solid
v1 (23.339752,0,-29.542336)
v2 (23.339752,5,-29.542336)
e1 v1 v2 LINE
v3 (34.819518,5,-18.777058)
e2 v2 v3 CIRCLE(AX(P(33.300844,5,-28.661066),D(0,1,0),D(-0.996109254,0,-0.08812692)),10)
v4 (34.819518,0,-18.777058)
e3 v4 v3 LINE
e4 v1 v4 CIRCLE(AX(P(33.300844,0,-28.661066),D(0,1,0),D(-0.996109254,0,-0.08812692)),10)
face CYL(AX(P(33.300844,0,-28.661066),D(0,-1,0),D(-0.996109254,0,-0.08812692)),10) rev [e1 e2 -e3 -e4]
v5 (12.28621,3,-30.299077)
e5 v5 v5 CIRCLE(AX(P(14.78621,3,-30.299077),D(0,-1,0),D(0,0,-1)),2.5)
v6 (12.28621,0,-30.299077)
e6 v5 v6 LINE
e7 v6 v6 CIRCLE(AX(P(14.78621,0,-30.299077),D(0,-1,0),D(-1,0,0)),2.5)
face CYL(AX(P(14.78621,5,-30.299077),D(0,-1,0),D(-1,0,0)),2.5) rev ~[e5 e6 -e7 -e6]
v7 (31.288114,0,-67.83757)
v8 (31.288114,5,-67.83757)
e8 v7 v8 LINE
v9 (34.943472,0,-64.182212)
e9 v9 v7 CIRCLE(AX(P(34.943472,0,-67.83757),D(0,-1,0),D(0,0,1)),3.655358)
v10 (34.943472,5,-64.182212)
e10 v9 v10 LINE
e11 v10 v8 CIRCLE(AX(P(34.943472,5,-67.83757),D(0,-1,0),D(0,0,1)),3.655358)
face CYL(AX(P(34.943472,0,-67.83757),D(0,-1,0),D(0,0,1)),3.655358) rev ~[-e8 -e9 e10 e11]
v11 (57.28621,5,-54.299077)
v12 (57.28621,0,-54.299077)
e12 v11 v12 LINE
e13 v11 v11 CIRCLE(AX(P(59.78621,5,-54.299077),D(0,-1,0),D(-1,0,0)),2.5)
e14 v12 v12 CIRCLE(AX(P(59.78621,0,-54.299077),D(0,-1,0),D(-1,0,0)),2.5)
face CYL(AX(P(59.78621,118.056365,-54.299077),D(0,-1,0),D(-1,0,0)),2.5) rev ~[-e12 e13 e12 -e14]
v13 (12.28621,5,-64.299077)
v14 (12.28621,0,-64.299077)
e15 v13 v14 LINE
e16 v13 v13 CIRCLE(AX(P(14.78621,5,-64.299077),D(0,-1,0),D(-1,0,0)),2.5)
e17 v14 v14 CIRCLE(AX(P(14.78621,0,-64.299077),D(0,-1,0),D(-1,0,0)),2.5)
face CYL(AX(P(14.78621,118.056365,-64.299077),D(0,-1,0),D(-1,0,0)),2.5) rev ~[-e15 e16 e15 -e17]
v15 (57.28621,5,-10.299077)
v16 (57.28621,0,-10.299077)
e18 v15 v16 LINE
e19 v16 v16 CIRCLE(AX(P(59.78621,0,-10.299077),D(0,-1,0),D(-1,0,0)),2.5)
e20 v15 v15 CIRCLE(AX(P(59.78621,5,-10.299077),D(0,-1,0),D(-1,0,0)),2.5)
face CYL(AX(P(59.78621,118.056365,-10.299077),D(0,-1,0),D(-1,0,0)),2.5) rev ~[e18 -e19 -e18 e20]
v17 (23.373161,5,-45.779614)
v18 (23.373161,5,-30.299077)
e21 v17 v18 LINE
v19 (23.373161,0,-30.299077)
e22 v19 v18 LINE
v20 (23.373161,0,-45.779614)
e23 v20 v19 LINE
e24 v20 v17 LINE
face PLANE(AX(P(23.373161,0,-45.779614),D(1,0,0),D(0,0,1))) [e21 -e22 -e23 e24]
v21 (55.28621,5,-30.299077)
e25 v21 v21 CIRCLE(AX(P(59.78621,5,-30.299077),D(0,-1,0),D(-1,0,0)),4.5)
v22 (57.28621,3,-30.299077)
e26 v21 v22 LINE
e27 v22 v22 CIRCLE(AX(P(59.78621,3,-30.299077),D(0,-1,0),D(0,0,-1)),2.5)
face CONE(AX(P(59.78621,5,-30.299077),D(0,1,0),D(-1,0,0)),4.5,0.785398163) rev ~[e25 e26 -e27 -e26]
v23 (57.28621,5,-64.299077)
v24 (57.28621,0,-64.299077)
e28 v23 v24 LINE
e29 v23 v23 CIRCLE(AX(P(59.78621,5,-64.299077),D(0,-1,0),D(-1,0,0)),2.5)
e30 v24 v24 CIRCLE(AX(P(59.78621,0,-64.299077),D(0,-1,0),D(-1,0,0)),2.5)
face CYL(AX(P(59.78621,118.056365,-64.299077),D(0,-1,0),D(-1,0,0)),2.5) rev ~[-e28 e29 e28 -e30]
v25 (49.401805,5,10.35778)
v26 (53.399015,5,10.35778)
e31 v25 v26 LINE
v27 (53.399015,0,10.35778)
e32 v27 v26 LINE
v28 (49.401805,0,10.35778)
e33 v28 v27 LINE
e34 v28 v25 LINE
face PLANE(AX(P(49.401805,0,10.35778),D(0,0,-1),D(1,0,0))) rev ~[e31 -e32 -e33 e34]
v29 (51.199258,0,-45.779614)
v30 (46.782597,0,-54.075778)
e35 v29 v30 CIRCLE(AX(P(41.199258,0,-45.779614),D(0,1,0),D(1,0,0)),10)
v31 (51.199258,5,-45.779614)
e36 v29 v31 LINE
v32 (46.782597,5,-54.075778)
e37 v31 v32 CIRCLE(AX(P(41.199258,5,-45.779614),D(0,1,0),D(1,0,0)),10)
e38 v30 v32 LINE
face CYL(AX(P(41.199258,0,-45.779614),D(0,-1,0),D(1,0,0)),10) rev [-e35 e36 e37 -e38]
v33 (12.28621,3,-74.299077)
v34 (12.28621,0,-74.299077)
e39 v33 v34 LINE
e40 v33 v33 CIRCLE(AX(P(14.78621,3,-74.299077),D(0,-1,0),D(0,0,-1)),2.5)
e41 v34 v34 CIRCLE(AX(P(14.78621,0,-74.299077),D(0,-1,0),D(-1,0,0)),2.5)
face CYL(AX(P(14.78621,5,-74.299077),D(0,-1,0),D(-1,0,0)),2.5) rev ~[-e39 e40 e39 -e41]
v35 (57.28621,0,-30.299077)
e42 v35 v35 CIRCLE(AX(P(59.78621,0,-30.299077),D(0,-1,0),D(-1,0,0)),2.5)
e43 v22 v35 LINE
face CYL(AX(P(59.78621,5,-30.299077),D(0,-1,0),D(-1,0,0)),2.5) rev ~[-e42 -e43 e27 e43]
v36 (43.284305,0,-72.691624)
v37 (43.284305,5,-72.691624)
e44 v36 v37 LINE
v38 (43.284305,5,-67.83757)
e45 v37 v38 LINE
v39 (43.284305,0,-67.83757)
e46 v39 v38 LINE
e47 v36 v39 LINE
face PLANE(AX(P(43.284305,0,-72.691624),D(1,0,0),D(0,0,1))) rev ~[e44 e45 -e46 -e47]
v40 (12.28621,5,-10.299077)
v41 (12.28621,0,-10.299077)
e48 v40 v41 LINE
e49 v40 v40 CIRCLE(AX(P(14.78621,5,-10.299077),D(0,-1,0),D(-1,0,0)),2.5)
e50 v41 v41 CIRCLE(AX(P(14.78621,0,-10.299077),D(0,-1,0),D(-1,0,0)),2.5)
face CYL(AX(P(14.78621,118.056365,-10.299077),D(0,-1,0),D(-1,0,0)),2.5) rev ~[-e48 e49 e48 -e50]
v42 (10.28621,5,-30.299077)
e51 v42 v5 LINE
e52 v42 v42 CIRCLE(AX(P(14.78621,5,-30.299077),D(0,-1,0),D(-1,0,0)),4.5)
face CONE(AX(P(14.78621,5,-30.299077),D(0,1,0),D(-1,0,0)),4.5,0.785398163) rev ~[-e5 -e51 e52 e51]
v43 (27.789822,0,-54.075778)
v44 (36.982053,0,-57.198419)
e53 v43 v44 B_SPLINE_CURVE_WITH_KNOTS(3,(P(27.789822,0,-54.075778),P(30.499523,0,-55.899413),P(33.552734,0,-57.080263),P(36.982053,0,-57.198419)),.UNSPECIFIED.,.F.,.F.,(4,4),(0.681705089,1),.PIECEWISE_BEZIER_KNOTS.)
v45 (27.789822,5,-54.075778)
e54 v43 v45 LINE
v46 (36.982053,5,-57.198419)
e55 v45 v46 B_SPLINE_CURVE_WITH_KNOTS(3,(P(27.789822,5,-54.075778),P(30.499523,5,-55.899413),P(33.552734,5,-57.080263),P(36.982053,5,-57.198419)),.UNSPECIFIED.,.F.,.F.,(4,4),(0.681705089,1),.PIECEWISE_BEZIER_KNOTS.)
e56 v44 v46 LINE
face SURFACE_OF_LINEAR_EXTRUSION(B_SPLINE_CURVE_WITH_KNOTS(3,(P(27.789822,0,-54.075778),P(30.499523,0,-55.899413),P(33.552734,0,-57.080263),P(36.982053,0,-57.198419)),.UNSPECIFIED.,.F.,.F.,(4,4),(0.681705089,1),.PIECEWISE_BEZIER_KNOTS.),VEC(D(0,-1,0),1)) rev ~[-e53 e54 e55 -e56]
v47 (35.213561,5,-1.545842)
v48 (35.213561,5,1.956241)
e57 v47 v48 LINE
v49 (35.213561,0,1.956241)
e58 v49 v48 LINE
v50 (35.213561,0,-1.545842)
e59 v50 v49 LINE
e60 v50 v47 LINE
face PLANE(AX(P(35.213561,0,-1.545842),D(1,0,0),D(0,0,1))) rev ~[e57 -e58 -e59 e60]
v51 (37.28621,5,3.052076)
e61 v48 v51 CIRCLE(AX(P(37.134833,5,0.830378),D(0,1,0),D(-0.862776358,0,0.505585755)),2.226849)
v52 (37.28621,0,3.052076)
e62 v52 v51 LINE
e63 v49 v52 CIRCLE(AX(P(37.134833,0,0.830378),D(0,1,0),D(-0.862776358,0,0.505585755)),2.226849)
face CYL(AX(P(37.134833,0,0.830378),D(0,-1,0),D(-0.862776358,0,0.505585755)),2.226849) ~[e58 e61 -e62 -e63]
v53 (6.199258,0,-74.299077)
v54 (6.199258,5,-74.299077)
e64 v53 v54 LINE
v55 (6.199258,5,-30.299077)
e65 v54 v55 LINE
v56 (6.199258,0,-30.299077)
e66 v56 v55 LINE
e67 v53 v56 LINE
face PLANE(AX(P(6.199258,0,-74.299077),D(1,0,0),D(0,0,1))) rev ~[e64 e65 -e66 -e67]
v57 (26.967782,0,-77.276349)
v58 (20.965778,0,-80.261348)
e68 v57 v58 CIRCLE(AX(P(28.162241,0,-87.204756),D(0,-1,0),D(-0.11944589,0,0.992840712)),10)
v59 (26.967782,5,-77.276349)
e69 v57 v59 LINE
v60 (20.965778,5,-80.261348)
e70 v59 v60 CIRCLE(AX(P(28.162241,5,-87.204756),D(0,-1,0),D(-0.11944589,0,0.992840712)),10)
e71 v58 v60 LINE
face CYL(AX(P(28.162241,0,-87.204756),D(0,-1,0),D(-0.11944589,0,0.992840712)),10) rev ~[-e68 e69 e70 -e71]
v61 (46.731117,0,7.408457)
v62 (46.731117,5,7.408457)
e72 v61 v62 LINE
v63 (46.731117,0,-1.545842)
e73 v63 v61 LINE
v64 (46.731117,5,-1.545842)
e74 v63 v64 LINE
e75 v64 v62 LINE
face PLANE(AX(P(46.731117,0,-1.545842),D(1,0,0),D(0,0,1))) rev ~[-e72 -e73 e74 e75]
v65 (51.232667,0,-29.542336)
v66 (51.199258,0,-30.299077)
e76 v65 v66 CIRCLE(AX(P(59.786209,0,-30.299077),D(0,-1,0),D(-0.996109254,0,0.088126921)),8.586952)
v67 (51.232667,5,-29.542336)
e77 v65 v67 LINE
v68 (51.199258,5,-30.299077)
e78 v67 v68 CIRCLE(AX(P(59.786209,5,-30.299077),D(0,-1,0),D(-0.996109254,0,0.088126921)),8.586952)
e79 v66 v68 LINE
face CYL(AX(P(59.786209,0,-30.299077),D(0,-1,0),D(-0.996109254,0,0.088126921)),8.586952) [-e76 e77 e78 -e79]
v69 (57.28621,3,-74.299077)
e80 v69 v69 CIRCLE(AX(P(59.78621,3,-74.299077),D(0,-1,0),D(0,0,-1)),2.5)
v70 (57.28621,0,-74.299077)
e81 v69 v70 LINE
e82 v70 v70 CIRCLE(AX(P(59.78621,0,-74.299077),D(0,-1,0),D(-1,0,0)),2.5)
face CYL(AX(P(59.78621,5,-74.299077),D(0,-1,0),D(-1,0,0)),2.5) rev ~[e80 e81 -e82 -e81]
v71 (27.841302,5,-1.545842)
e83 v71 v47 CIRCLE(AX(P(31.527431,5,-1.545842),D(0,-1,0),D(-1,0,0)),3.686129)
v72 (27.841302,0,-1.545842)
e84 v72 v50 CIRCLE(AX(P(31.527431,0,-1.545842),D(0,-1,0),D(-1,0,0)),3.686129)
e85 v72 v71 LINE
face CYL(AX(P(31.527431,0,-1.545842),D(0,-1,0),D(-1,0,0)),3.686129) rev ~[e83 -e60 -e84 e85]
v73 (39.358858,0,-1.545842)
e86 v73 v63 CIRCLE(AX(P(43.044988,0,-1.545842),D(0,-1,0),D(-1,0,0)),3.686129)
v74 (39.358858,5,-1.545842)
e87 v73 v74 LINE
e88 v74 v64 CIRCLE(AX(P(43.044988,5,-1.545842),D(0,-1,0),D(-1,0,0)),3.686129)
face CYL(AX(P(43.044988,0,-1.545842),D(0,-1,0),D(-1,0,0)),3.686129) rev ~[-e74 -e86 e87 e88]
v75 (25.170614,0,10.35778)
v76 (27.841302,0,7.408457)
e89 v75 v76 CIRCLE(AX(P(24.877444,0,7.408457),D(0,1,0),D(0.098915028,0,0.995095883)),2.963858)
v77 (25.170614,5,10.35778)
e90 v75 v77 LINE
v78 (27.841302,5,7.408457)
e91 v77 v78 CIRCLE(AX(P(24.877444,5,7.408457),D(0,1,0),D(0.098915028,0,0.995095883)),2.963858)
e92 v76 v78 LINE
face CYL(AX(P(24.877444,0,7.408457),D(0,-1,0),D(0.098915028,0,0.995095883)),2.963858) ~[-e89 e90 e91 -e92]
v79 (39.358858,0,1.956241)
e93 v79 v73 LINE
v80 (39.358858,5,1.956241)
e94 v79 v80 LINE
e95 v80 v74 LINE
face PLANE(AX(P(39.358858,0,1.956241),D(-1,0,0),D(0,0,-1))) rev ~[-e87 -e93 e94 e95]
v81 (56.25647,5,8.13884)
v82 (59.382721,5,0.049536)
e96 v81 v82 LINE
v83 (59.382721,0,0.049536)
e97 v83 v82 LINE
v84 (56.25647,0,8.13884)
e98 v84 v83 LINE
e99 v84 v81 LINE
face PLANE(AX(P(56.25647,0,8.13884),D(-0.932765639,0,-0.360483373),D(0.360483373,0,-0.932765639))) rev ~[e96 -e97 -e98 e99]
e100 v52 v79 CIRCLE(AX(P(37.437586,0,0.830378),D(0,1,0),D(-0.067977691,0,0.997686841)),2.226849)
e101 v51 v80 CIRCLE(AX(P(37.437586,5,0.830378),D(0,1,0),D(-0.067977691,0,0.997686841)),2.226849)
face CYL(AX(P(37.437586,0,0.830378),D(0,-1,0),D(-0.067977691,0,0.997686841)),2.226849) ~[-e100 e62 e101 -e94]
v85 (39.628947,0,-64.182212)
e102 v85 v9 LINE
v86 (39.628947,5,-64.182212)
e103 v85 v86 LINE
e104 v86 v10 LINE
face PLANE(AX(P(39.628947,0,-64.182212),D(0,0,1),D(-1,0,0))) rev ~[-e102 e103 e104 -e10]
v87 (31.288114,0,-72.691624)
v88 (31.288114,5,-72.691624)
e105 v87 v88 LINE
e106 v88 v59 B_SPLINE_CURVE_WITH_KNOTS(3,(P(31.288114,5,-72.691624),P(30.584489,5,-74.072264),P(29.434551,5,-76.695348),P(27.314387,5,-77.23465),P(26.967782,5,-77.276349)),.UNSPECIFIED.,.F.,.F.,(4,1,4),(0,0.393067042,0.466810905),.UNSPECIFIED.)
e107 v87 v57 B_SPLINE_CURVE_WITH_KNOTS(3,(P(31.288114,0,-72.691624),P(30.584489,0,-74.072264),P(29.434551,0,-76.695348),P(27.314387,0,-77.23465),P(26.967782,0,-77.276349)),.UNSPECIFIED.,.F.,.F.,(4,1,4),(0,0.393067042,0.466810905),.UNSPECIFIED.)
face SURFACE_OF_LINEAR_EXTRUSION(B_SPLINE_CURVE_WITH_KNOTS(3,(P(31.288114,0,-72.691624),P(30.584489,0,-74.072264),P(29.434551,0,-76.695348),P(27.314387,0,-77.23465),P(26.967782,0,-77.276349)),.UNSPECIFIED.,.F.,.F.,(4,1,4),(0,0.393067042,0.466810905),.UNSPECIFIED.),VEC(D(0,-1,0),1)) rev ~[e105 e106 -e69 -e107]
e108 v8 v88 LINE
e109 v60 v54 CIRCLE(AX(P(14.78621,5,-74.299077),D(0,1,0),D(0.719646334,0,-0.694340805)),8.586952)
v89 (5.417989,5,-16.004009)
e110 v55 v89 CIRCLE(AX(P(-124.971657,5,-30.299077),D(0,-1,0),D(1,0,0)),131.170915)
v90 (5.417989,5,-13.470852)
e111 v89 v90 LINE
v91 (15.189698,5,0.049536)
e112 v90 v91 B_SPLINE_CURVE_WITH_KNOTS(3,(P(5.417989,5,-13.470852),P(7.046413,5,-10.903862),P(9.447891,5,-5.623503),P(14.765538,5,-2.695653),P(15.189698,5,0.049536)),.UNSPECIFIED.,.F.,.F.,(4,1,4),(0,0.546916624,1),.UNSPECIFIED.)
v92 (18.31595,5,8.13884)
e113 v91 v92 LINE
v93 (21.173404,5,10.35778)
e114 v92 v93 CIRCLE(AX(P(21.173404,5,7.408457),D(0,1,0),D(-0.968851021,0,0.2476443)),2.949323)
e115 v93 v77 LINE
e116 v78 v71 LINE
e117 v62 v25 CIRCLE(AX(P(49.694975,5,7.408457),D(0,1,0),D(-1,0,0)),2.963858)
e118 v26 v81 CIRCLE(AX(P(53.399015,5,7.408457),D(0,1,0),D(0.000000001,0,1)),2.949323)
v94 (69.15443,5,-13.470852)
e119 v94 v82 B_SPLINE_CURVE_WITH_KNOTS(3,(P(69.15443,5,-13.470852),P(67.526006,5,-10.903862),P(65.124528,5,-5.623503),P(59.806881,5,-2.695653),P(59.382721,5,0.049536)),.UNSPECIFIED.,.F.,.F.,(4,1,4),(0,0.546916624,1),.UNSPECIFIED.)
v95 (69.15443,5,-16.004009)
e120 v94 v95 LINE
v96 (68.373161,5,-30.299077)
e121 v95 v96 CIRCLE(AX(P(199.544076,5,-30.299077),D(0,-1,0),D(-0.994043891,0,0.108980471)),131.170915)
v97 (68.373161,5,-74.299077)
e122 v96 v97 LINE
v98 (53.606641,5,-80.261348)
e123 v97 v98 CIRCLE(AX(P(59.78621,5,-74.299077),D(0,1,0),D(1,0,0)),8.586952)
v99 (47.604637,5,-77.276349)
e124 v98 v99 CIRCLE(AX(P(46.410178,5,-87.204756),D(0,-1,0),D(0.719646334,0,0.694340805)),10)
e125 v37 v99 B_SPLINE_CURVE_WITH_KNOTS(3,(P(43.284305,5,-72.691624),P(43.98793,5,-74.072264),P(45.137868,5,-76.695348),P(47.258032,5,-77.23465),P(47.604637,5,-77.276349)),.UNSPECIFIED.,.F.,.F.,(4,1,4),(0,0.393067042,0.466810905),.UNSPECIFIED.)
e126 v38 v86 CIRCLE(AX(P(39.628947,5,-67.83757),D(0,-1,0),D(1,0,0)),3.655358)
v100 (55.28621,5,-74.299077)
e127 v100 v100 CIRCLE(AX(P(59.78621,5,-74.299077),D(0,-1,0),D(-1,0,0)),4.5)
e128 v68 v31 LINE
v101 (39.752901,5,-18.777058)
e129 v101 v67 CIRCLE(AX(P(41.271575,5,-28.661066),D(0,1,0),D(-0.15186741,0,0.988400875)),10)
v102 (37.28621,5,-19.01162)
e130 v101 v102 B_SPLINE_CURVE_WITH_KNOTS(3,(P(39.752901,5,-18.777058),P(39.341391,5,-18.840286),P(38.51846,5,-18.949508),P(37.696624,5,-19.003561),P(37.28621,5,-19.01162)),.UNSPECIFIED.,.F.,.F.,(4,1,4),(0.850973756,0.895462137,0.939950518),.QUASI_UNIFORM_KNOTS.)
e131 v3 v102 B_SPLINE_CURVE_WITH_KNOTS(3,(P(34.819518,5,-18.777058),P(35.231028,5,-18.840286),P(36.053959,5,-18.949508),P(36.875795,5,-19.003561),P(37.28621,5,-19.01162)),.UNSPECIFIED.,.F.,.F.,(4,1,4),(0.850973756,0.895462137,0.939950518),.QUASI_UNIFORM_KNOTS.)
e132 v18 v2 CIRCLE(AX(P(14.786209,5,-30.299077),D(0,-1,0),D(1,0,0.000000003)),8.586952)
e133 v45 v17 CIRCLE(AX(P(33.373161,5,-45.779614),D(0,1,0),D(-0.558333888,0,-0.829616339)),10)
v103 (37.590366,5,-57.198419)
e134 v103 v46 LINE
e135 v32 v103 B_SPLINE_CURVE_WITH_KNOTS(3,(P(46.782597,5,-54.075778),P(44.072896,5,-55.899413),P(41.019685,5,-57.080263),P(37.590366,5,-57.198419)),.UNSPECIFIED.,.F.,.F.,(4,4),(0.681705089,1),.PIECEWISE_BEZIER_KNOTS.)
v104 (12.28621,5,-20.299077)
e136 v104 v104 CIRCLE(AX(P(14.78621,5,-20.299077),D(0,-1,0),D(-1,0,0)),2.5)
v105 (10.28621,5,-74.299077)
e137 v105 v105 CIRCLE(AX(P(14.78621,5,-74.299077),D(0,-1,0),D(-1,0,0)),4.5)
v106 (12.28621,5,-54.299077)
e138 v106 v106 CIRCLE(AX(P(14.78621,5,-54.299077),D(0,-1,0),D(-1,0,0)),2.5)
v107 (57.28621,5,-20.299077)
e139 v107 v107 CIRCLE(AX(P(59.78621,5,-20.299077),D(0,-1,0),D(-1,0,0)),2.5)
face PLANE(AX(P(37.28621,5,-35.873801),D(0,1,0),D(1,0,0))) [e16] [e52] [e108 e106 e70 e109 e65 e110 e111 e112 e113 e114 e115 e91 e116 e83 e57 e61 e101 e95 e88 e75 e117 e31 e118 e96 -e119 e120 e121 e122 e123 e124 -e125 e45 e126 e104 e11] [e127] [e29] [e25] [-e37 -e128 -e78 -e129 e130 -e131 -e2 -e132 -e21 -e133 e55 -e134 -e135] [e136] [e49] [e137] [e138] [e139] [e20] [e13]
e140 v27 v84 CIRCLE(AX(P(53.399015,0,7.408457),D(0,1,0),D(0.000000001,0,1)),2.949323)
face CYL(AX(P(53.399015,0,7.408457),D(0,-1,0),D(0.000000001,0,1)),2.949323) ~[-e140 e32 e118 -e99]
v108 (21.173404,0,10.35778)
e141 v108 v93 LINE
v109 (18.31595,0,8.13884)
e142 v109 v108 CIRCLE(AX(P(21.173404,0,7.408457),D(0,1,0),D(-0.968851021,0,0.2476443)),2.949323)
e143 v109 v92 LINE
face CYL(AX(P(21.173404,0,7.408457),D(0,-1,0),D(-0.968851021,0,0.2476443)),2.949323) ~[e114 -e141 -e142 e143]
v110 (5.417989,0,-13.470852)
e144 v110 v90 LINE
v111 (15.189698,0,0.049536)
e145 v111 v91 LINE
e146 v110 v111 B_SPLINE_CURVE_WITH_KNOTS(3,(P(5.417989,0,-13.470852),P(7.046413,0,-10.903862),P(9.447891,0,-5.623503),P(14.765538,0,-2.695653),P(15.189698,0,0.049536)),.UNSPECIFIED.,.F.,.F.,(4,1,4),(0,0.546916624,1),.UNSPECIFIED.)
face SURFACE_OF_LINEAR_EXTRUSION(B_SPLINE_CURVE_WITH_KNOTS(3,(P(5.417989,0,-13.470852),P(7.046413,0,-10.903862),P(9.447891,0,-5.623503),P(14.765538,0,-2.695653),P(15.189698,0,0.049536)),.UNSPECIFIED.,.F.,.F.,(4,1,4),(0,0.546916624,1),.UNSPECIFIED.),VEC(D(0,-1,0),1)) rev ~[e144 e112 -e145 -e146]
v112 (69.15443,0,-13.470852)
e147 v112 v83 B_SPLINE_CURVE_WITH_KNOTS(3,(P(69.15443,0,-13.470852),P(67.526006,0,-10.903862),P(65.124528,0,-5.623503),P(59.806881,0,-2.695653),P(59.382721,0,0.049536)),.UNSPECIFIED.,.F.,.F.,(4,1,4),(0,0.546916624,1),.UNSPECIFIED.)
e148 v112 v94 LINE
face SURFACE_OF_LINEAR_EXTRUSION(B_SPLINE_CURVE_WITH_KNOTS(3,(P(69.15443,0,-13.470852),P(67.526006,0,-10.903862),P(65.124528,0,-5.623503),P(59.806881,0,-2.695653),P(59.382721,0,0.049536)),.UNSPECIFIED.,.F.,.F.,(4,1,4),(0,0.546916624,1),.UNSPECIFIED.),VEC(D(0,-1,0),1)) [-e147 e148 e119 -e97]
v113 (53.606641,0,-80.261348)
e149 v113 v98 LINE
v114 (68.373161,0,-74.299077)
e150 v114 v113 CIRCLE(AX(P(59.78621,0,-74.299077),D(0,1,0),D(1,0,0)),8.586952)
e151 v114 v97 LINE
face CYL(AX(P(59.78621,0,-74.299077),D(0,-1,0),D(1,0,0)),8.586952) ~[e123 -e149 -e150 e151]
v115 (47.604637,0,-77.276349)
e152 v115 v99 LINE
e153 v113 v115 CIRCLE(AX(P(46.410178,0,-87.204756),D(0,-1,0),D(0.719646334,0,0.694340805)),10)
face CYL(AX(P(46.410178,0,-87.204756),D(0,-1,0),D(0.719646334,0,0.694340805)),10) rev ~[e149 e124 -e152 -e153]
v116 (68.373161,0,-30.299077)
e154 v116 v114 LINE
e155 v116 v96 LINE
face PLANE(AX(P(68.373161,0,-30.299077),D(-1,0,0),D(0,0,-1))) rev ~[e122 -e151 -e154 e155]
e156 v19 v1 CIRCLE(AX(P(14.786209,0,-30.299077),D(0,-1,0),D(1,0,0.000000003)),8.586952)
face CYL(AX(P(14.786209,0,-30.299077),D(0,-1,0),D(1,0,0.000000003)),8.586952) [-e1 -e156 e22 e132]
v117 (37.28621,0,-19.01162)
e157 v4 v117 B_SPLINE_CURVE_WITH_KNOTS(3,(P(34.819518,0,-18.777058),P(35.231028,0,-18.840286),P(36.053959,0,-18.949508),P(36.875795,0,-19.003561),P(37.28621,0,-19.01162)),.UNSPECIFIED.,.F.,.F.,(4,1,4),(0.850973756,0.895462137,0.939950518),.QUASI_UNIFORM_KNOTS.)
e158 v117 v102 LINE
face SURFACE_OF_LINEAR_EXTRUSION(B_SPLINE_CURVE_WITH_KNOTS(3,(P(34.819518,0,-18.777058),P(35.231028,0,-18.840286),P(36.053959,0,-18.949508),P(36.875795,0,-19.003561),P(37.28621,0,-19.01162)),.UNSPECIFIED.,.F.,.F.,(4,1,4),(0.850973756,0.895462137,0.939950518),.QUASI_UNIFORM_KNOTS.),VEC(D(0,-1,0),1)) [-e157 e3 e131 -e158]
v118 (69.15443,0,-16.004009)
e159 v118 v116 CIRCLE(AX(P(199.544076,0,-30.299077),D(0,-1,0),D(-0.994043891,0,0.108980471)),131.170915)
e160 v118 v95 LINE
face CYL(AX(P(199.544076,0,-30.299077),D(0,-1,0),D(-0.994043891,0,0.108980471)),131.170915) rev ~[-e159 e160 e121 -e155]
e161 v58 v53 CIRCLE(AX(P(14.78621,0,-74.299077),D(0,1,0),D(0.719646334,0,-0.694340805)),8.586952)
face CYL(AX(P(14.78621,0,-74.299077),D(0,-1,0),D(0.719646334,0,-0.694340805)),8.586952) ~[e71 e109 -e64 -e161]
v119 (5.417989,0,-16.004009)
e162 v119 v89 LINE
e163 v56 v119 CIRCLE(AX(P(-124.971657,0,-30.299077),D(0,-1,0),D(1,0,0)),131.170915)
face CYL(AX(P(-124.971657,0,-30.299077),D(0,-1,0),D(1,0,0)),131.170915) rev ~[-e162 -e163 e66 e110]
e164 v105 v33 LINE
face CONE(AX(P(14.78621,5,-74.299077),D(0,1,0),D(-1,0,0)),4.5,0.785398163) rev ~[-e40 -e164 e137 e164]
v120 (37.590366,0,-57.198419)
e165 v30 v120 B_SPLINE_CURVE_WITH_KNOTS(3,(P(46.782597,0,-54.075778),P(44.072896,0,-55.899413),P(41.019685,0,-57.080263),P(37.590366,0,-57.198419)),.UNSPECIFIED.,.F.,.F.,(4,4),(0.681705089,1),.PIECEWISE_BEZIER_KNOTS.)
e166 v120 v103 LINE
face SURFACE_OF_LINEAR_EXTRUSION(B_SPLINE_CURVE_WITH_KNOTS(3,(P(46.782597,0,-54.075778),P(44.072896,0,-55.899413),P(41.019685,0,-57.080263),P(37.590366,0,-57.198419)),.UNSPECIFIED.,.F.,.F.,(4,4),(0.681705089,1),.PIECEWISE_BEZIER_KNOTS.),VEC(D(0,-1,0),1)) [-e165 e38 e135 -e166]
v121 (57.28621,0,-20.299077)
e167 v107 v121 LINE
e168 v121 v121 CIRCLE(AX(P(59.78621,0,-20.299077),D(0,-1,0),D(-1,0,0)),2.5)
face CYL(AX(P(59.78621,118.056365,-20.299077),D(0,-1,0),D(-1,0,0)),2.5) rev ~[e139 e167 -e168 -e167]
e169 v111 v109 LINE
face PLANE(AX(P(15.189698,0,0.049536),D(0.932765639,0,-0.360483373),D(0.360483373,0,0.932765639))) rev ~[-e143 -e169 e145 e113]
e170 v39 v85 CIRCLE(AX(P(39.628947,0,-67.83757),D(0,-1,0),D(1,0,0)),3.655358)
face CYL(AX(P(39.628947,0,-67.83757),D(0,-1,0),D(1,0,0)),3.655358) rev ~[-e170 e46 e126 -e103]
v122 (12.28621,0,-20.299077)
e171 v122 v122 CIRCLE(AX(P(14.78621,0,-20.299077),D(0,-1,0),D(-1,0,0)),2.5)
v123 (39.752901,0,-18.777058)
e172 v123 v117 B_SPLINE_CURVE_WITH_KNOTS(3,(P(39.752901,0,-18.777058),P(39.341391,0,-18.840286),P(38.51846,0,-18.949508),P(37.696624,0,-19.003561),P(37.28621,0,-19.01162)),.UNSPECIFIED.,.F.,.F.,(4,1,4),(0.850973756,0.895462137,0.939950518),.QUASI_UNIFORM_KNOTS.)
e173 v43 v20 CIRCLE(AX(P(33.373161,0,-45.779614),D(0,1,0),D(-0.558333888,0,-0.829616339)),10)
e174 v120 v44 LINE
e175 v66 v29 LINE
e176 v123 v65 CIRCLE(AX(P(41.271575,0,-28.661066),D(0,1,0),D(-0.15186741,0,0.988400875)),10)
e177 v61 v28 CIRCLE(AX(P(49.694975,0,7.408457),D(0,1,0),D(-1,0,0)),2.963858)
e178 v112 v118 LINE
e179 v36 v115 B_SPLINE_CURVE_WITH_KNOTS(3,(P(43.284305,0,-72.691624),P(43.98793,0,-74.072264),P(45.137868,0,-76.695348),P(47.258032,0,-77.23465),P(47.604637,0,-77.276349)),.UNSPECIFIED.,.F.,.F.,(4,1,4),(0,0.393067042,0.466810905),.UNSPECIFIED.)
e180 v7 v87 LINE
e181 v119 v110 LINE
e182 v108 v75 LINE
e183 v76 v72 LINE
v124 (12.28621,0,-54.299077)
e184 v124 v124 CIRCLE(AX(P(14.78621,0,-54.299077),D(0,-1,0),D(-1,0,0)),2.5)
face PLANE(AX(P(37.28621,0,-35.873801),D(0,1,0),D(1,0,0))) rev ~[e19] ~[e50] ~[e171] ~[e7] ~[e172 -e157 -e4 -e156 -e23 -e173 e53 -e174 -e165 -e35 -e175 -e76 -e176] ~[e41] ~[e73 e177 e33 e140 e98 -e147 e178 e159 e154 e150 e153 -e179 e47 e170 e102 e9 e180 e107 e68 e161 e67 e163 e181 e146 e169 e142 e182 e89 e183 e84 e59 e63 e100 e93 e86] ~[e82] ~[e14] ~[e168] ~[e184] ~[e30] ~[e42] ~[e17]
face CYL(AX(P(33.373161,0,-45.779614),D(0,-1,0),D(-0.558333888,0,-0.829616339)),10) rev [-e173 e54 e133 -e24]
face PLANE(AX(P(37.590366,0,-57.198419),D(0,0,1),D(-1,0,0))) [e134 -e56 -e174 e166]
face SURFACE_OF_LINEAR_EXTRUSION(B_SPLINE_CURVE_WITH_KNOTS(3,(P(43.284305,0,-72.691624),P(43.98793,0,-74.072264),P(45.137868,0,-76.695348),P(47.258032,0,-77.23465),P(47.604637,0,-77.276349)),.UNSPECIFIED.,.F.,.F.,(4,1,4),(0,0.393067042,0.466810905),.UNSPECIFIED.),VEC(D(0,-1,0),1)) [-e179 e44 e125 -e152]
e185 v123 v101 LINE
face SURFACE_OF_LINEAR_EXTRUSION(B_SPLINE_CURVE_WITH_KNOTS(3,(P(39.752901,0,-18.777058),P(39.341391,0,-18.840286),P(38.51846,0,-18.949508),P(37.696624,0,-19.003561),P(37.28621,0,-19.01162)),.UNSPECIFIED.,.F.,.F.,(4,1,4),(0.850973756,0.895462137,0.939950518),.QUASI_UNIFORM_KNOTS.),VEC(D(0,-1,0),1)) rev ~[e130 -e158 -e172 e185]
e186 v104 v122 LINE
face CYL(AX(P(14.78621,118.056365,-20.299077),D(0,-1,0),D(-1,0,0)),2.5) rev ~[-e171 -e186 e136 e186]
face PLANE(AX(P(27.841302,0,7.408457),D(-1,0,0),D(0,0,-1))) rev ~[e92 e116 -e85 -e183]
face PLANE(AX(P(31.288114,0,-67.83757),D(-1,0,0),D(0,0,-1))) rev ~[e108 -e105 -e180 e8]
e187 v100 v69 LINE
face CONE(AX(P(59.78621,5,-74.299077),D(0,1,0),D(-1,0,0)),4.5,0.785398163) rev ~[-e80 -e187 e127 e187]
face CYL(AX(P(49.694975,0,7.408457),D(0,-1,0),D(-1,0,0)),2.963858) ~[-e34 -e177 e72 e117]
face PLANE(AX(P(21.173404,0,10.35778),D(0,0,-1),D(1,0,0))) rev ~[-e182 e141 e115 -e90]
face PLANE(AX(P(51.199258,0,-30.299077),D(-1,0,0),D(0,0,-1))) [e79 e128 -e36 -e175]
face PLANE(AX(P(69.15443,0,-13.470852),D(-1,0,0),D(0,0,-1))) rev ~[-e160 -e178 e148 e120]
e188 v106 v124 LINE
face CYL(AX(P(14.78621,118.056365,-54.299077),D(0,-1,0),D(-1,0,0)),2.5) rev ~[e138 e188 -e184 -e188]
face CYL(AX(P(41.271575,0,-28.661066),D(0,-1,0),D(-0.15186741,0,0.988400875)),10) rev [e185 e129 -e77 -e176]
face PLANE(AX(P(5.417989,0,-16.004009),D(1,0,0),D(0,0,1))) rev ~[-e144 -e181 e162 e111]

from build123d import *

# Parameters (mm, degrees)
BOSS_EXTRUDE1_DEPTH            = 5
M6_CLEARANCE_HOLE1_D           = 5
M6_CLEARANCE_HOLE1_CSINK_D     = 9
M6_CLEARANCE_HOLE1_CSINK_ANGLE = 90
M6X1_0_TAPPED_HOLE1_D          = 5


with BuildPart() as part:
    # Sketch1 → Boss-Extrude1 (new body)
    with BuildSketch(Plane(origin=(0, 0, 0), x_dir=(1, 0, 0), z_dir=(0, 1, 0))):
        with BuildLine():
            Line((69.154429566, 13.47085249), (69.154429566, 16.004009211))
            ThreePointArc((69.154429566, 16.004009211), (68.568623983, 23.140876552), (68.373161278, 30.2990773))
            Line((68.373161278, 30.2990773), (68.373161278, 48.133269951))
            Line((68.373161278, 48.133269951), (68.373161278, 53.582502285))
            Line((68.373161278, 53.582502285), (68.373161278, 74.2990773))
            ThreePointArc((68.373161278, 74.2990773), (63.00118115, 82.261470023), (53.60664117, 80.261348294))
            ThreePointArc((53.60664117, 80.261348294), (50.863204763, 78.250955414), (47.60463673, 77.276349225))
            add(Edge.make_bspline(
                [(43.284305461, 72.691623988), (43.987930263, 74.072264243), (45.137867804, 76.695348328), (47.258032118, 77.234650193), (47.60463673, 77.276349225)],
                knots=[0, 0, 0, 0, 0.393067042, 0.466810905, 0.466810905, 0.466810905, 0.466810905], degree=3))
            Line((43.284305461, 72.691623988), (43.284305461, 67.837570304))
            ThreePointArc((43.284305461, 67.837570304), (42.213675848, 65.252841772), (39.628947316, 64.182212159))
            Line((39.628947316, 64.182212159), (34.94347173, 64.182212159))
            ThreePointArc((34.94347173, 64.182212159), (32.358743198, 65.252841772), (31.288113585, 67.837570304))
            Line((31.288113585, 67.837570304), (31.288113585, 72.691623988))
            add(Edge.make_bspline(
                [(31.288113585, 72.691623988), (30.584488782, 74.072264242), (29.434551241, 76.695348328), (27.314386927, 77.234650193), (26.967782316, 77.276349225)],
                knots=[0, 0, 0, 0, 0.393067042, 0.466810905, 0.466810905, 0.466810905, 0.466810905], degree=3))
            ThreePointArc((26.967782316, 77.276349225), (23.709214283, 78.250955414), (20.965777876, 80.261348294))
            ThreePointArc((20.965777876, 80.261348294), (11.571237896, 82.261470023), (6.199257768, 74.2990773))
            Line((6.199257768, 74.2990773), (6.199257768, 53.582502285))
            Line((6.199257768, 53.582502285), (6.199257768, 48.133269951))
            Line((6.199257768, 48.133269951), (6.199257768, 30.2990773))
            ThreePointArc((6.199257768, 30.2990773), (6.003795063, 23.140876552), (5.41798948, 16.004009211))
            Line((5.41798948, 16.004009211), (5.41798948, 13.47085249))
            add(Edge.make_bspline(
                [(5.41798948, 13.47085249), (7.046412561, 10.903861817), (9.447890726, 5.623503132), (14.765538488, 2.695653096), (15.189698257, -0.049535855)],
                knots=[0, 0, 0, 0, 0.546916624, 1, 1, 1, 1], degree=3))
            Line((15.189698257, -0.049535855), (18.315949534, -8.138840351))
            ThreePointArc((18.315949534, -8.138840351), (19.364485683, -9.737903523), (21.173403671, -10.357779963))
            Line((21.173403671, -10.357779963), (25.170614374, -10.357779963))
            ThreePointArc((25.170614374, -10.357779963), (27.074415678, -9.397871639), (27.84130194, -7.408457441))
            Line((27.84130194, -7.408457441), (27.84130194, 1.545841867))
            ThreePointArc((27.84130194, 1.545841867), (31.527431336, 5.231971263), (35.213560733, 1.545841867))
            Line((35.213560733, 1.545841867), (35.213560733, -1.95624117))
            ThreePointArc((35.213560733, -1.95624117), (36.093993872, -2.799009437), (37.286209528, -3.05207602))
            ThreePointArc((37.286209528, -3.05207602), (38.478425184, -2.799009437), (39.358858323, -1.95624117))
            Line((39.358858323, -1.95624117), (39.358858323, 1.545841867))
            ThreePointArc((39.358858323, 1.545841867), (43.044987714, 5.231971258), (46.731117106, 1.545841867))
            Line((46.731117106, 1.545841867), (46.731117106, -7.408457441))
            ThreePointArc((46.731117106, -7.408457441), (47.498003369, -9.39787164), (49.401804673, -10.357779963))
            Line((49.401804673, -10.357779963), (53.399015375, -10.357779963))
            ThreePointArc((53.399015375, -10.357779963), (55.207933362, -9.737903523), (56.256469511, -8.138840351))
            Line((56.256469511, -8.138840351), (59.382720789, -0.049535855))
            add(Edge.make_bspline(
                [(69.154429566, 13.47085249), (67.526006485, 10.903861817), (65.12452832, 5.623503132), (59.806880557, 2.695653096), (59.382720789, -0.049535855)],
                knots=[0, 0, 0, 0, 0.546916624, 1, 1, 1, 1], degree=3))
        make_face()
        with BuildLine():
            Line((37.590365628, 57.198418754), (36.982053418, 57.198418754))
            add(Edge.make_bspline(
                [(27.789822398, 54.075777582), (30.499523282, 55.89941311), (33.552733603, 57.080263172), (36.982053418, 57.198418754)],
                knots=[0.681705089, 0.681705089, 0.681705089, 0.681705089, 1, 1, 1, 1], degree=3))
            ThreePointArc((27.789822398, 54.075777582), (24.546117922, 50.47890197), (23.373161278, 45.779614194))
            Line((23.373161278, 45.779614194), (23.373161278, 30.2990773))
            ThreePointArc((23.373161278, 30.2990773), (23.364804799, 29.920337919), (23.339751629, 29.542335687))
            ThreePointArc((23.339751629, 29.542335687), (26.460419501, 21.366644617), (34.819518268, 18.777057732))
            add(Edge.make_bspline(
                [(34.819518268, 18.777057732), (35.231027882, 18.840286024), (36.0539589, 18.949507928), (36.875794913, 19.003560622), (37.286209523, 19.011619704)],
                knots=[0.850973756, 0.850973756, 0.850973756, 0.850973756, 0.895462137, 0.939950518, 0.939950518, 0.939950518, 0.939950518], degree=3))
            add(Edge.make_bspline(
                [(39.752900778, 18.777057732), (39.341391163, 18.840286024), (38.518460146, 18.949507928), (37.696624133, 19.003560622), (37.286209523, 19.011619704)],
                knots=[0.850973756, 0.850973756, 0.850973756, 0.850973756, 0.895462137, 0.939950518, 0.939950518, 0.939950518, 0.939950518], degree=3))
            ThreePointArc((39.752900778, 18.777057732), (48.111999545, 21.366644617), (51.232667416, 29.542335687))
            ThreePointArc((51.232667416, 29.542335687), (51.207614246, 29.920337919), (51.199257768, 30.2990773))
            Line((51.199257768, 30.2990773), (51.199257768, 45.779614194))
            ThreePointArc((51.199257768, 45.779614194), (50.026301124, 50.47890197), (46.782596648, 54.075777582))
            add(Edge.make_bspline(
                [(46.782596648, 54.075777582), (44.072895763, 55.89941311), (41.019685443, 57.080263172), (37.590365628, 57.198418754)],
                knots=[0.681705089, 0.681705089, 0.681705089, 0.681705089, 1, 1, 1, 1], degree=3))
        make_face(mode=Mode.SUBTRACT)
    extrude(amount=BOSS_EXTRUDE1_DEPTH)

    # M6 Clearance Hole1 (through all)
    with Locations(Plane(origin=(0, 5, 0), x_dir=(1, 0, 0), z_dir=(0, 1, 0))):
        with Locations((14.786209523, 74.2990773), (59.786209523, 74.2990773), (14.786209523, 30.2990773), (59.786209523, 30.2990773)):
            CounterSinkHole(M6_CLEARANCE_HOLE1_D / 2, M6_CLEARANCE_HOLE1_CSINK_D / 2, counter_sink_angle=M6_CLEARANCE_HOLE1_CSINK_ANGLE)

    # M6x1.0 Tapped Hole1 (through all)
    with Locations(Plane(origin=(0, 5, 0), x_dir=(1, 0, 0), z_dir=(0, 1, 0))):
        with Locations((14.786209523, 54.2990773), (59.786209523, 54.2990773), (14.786209523, 10.2990773), (59.786209523, 10.2990773), (14.786209523, 64.2990773), (59.786209523, 64.2990773), (59.786209523, 20.2990773), (14.786209523, 20.2990773)):
            Hole(M6X1_0_TAPPED_HOLE1_D / 2)


solid = part.part
